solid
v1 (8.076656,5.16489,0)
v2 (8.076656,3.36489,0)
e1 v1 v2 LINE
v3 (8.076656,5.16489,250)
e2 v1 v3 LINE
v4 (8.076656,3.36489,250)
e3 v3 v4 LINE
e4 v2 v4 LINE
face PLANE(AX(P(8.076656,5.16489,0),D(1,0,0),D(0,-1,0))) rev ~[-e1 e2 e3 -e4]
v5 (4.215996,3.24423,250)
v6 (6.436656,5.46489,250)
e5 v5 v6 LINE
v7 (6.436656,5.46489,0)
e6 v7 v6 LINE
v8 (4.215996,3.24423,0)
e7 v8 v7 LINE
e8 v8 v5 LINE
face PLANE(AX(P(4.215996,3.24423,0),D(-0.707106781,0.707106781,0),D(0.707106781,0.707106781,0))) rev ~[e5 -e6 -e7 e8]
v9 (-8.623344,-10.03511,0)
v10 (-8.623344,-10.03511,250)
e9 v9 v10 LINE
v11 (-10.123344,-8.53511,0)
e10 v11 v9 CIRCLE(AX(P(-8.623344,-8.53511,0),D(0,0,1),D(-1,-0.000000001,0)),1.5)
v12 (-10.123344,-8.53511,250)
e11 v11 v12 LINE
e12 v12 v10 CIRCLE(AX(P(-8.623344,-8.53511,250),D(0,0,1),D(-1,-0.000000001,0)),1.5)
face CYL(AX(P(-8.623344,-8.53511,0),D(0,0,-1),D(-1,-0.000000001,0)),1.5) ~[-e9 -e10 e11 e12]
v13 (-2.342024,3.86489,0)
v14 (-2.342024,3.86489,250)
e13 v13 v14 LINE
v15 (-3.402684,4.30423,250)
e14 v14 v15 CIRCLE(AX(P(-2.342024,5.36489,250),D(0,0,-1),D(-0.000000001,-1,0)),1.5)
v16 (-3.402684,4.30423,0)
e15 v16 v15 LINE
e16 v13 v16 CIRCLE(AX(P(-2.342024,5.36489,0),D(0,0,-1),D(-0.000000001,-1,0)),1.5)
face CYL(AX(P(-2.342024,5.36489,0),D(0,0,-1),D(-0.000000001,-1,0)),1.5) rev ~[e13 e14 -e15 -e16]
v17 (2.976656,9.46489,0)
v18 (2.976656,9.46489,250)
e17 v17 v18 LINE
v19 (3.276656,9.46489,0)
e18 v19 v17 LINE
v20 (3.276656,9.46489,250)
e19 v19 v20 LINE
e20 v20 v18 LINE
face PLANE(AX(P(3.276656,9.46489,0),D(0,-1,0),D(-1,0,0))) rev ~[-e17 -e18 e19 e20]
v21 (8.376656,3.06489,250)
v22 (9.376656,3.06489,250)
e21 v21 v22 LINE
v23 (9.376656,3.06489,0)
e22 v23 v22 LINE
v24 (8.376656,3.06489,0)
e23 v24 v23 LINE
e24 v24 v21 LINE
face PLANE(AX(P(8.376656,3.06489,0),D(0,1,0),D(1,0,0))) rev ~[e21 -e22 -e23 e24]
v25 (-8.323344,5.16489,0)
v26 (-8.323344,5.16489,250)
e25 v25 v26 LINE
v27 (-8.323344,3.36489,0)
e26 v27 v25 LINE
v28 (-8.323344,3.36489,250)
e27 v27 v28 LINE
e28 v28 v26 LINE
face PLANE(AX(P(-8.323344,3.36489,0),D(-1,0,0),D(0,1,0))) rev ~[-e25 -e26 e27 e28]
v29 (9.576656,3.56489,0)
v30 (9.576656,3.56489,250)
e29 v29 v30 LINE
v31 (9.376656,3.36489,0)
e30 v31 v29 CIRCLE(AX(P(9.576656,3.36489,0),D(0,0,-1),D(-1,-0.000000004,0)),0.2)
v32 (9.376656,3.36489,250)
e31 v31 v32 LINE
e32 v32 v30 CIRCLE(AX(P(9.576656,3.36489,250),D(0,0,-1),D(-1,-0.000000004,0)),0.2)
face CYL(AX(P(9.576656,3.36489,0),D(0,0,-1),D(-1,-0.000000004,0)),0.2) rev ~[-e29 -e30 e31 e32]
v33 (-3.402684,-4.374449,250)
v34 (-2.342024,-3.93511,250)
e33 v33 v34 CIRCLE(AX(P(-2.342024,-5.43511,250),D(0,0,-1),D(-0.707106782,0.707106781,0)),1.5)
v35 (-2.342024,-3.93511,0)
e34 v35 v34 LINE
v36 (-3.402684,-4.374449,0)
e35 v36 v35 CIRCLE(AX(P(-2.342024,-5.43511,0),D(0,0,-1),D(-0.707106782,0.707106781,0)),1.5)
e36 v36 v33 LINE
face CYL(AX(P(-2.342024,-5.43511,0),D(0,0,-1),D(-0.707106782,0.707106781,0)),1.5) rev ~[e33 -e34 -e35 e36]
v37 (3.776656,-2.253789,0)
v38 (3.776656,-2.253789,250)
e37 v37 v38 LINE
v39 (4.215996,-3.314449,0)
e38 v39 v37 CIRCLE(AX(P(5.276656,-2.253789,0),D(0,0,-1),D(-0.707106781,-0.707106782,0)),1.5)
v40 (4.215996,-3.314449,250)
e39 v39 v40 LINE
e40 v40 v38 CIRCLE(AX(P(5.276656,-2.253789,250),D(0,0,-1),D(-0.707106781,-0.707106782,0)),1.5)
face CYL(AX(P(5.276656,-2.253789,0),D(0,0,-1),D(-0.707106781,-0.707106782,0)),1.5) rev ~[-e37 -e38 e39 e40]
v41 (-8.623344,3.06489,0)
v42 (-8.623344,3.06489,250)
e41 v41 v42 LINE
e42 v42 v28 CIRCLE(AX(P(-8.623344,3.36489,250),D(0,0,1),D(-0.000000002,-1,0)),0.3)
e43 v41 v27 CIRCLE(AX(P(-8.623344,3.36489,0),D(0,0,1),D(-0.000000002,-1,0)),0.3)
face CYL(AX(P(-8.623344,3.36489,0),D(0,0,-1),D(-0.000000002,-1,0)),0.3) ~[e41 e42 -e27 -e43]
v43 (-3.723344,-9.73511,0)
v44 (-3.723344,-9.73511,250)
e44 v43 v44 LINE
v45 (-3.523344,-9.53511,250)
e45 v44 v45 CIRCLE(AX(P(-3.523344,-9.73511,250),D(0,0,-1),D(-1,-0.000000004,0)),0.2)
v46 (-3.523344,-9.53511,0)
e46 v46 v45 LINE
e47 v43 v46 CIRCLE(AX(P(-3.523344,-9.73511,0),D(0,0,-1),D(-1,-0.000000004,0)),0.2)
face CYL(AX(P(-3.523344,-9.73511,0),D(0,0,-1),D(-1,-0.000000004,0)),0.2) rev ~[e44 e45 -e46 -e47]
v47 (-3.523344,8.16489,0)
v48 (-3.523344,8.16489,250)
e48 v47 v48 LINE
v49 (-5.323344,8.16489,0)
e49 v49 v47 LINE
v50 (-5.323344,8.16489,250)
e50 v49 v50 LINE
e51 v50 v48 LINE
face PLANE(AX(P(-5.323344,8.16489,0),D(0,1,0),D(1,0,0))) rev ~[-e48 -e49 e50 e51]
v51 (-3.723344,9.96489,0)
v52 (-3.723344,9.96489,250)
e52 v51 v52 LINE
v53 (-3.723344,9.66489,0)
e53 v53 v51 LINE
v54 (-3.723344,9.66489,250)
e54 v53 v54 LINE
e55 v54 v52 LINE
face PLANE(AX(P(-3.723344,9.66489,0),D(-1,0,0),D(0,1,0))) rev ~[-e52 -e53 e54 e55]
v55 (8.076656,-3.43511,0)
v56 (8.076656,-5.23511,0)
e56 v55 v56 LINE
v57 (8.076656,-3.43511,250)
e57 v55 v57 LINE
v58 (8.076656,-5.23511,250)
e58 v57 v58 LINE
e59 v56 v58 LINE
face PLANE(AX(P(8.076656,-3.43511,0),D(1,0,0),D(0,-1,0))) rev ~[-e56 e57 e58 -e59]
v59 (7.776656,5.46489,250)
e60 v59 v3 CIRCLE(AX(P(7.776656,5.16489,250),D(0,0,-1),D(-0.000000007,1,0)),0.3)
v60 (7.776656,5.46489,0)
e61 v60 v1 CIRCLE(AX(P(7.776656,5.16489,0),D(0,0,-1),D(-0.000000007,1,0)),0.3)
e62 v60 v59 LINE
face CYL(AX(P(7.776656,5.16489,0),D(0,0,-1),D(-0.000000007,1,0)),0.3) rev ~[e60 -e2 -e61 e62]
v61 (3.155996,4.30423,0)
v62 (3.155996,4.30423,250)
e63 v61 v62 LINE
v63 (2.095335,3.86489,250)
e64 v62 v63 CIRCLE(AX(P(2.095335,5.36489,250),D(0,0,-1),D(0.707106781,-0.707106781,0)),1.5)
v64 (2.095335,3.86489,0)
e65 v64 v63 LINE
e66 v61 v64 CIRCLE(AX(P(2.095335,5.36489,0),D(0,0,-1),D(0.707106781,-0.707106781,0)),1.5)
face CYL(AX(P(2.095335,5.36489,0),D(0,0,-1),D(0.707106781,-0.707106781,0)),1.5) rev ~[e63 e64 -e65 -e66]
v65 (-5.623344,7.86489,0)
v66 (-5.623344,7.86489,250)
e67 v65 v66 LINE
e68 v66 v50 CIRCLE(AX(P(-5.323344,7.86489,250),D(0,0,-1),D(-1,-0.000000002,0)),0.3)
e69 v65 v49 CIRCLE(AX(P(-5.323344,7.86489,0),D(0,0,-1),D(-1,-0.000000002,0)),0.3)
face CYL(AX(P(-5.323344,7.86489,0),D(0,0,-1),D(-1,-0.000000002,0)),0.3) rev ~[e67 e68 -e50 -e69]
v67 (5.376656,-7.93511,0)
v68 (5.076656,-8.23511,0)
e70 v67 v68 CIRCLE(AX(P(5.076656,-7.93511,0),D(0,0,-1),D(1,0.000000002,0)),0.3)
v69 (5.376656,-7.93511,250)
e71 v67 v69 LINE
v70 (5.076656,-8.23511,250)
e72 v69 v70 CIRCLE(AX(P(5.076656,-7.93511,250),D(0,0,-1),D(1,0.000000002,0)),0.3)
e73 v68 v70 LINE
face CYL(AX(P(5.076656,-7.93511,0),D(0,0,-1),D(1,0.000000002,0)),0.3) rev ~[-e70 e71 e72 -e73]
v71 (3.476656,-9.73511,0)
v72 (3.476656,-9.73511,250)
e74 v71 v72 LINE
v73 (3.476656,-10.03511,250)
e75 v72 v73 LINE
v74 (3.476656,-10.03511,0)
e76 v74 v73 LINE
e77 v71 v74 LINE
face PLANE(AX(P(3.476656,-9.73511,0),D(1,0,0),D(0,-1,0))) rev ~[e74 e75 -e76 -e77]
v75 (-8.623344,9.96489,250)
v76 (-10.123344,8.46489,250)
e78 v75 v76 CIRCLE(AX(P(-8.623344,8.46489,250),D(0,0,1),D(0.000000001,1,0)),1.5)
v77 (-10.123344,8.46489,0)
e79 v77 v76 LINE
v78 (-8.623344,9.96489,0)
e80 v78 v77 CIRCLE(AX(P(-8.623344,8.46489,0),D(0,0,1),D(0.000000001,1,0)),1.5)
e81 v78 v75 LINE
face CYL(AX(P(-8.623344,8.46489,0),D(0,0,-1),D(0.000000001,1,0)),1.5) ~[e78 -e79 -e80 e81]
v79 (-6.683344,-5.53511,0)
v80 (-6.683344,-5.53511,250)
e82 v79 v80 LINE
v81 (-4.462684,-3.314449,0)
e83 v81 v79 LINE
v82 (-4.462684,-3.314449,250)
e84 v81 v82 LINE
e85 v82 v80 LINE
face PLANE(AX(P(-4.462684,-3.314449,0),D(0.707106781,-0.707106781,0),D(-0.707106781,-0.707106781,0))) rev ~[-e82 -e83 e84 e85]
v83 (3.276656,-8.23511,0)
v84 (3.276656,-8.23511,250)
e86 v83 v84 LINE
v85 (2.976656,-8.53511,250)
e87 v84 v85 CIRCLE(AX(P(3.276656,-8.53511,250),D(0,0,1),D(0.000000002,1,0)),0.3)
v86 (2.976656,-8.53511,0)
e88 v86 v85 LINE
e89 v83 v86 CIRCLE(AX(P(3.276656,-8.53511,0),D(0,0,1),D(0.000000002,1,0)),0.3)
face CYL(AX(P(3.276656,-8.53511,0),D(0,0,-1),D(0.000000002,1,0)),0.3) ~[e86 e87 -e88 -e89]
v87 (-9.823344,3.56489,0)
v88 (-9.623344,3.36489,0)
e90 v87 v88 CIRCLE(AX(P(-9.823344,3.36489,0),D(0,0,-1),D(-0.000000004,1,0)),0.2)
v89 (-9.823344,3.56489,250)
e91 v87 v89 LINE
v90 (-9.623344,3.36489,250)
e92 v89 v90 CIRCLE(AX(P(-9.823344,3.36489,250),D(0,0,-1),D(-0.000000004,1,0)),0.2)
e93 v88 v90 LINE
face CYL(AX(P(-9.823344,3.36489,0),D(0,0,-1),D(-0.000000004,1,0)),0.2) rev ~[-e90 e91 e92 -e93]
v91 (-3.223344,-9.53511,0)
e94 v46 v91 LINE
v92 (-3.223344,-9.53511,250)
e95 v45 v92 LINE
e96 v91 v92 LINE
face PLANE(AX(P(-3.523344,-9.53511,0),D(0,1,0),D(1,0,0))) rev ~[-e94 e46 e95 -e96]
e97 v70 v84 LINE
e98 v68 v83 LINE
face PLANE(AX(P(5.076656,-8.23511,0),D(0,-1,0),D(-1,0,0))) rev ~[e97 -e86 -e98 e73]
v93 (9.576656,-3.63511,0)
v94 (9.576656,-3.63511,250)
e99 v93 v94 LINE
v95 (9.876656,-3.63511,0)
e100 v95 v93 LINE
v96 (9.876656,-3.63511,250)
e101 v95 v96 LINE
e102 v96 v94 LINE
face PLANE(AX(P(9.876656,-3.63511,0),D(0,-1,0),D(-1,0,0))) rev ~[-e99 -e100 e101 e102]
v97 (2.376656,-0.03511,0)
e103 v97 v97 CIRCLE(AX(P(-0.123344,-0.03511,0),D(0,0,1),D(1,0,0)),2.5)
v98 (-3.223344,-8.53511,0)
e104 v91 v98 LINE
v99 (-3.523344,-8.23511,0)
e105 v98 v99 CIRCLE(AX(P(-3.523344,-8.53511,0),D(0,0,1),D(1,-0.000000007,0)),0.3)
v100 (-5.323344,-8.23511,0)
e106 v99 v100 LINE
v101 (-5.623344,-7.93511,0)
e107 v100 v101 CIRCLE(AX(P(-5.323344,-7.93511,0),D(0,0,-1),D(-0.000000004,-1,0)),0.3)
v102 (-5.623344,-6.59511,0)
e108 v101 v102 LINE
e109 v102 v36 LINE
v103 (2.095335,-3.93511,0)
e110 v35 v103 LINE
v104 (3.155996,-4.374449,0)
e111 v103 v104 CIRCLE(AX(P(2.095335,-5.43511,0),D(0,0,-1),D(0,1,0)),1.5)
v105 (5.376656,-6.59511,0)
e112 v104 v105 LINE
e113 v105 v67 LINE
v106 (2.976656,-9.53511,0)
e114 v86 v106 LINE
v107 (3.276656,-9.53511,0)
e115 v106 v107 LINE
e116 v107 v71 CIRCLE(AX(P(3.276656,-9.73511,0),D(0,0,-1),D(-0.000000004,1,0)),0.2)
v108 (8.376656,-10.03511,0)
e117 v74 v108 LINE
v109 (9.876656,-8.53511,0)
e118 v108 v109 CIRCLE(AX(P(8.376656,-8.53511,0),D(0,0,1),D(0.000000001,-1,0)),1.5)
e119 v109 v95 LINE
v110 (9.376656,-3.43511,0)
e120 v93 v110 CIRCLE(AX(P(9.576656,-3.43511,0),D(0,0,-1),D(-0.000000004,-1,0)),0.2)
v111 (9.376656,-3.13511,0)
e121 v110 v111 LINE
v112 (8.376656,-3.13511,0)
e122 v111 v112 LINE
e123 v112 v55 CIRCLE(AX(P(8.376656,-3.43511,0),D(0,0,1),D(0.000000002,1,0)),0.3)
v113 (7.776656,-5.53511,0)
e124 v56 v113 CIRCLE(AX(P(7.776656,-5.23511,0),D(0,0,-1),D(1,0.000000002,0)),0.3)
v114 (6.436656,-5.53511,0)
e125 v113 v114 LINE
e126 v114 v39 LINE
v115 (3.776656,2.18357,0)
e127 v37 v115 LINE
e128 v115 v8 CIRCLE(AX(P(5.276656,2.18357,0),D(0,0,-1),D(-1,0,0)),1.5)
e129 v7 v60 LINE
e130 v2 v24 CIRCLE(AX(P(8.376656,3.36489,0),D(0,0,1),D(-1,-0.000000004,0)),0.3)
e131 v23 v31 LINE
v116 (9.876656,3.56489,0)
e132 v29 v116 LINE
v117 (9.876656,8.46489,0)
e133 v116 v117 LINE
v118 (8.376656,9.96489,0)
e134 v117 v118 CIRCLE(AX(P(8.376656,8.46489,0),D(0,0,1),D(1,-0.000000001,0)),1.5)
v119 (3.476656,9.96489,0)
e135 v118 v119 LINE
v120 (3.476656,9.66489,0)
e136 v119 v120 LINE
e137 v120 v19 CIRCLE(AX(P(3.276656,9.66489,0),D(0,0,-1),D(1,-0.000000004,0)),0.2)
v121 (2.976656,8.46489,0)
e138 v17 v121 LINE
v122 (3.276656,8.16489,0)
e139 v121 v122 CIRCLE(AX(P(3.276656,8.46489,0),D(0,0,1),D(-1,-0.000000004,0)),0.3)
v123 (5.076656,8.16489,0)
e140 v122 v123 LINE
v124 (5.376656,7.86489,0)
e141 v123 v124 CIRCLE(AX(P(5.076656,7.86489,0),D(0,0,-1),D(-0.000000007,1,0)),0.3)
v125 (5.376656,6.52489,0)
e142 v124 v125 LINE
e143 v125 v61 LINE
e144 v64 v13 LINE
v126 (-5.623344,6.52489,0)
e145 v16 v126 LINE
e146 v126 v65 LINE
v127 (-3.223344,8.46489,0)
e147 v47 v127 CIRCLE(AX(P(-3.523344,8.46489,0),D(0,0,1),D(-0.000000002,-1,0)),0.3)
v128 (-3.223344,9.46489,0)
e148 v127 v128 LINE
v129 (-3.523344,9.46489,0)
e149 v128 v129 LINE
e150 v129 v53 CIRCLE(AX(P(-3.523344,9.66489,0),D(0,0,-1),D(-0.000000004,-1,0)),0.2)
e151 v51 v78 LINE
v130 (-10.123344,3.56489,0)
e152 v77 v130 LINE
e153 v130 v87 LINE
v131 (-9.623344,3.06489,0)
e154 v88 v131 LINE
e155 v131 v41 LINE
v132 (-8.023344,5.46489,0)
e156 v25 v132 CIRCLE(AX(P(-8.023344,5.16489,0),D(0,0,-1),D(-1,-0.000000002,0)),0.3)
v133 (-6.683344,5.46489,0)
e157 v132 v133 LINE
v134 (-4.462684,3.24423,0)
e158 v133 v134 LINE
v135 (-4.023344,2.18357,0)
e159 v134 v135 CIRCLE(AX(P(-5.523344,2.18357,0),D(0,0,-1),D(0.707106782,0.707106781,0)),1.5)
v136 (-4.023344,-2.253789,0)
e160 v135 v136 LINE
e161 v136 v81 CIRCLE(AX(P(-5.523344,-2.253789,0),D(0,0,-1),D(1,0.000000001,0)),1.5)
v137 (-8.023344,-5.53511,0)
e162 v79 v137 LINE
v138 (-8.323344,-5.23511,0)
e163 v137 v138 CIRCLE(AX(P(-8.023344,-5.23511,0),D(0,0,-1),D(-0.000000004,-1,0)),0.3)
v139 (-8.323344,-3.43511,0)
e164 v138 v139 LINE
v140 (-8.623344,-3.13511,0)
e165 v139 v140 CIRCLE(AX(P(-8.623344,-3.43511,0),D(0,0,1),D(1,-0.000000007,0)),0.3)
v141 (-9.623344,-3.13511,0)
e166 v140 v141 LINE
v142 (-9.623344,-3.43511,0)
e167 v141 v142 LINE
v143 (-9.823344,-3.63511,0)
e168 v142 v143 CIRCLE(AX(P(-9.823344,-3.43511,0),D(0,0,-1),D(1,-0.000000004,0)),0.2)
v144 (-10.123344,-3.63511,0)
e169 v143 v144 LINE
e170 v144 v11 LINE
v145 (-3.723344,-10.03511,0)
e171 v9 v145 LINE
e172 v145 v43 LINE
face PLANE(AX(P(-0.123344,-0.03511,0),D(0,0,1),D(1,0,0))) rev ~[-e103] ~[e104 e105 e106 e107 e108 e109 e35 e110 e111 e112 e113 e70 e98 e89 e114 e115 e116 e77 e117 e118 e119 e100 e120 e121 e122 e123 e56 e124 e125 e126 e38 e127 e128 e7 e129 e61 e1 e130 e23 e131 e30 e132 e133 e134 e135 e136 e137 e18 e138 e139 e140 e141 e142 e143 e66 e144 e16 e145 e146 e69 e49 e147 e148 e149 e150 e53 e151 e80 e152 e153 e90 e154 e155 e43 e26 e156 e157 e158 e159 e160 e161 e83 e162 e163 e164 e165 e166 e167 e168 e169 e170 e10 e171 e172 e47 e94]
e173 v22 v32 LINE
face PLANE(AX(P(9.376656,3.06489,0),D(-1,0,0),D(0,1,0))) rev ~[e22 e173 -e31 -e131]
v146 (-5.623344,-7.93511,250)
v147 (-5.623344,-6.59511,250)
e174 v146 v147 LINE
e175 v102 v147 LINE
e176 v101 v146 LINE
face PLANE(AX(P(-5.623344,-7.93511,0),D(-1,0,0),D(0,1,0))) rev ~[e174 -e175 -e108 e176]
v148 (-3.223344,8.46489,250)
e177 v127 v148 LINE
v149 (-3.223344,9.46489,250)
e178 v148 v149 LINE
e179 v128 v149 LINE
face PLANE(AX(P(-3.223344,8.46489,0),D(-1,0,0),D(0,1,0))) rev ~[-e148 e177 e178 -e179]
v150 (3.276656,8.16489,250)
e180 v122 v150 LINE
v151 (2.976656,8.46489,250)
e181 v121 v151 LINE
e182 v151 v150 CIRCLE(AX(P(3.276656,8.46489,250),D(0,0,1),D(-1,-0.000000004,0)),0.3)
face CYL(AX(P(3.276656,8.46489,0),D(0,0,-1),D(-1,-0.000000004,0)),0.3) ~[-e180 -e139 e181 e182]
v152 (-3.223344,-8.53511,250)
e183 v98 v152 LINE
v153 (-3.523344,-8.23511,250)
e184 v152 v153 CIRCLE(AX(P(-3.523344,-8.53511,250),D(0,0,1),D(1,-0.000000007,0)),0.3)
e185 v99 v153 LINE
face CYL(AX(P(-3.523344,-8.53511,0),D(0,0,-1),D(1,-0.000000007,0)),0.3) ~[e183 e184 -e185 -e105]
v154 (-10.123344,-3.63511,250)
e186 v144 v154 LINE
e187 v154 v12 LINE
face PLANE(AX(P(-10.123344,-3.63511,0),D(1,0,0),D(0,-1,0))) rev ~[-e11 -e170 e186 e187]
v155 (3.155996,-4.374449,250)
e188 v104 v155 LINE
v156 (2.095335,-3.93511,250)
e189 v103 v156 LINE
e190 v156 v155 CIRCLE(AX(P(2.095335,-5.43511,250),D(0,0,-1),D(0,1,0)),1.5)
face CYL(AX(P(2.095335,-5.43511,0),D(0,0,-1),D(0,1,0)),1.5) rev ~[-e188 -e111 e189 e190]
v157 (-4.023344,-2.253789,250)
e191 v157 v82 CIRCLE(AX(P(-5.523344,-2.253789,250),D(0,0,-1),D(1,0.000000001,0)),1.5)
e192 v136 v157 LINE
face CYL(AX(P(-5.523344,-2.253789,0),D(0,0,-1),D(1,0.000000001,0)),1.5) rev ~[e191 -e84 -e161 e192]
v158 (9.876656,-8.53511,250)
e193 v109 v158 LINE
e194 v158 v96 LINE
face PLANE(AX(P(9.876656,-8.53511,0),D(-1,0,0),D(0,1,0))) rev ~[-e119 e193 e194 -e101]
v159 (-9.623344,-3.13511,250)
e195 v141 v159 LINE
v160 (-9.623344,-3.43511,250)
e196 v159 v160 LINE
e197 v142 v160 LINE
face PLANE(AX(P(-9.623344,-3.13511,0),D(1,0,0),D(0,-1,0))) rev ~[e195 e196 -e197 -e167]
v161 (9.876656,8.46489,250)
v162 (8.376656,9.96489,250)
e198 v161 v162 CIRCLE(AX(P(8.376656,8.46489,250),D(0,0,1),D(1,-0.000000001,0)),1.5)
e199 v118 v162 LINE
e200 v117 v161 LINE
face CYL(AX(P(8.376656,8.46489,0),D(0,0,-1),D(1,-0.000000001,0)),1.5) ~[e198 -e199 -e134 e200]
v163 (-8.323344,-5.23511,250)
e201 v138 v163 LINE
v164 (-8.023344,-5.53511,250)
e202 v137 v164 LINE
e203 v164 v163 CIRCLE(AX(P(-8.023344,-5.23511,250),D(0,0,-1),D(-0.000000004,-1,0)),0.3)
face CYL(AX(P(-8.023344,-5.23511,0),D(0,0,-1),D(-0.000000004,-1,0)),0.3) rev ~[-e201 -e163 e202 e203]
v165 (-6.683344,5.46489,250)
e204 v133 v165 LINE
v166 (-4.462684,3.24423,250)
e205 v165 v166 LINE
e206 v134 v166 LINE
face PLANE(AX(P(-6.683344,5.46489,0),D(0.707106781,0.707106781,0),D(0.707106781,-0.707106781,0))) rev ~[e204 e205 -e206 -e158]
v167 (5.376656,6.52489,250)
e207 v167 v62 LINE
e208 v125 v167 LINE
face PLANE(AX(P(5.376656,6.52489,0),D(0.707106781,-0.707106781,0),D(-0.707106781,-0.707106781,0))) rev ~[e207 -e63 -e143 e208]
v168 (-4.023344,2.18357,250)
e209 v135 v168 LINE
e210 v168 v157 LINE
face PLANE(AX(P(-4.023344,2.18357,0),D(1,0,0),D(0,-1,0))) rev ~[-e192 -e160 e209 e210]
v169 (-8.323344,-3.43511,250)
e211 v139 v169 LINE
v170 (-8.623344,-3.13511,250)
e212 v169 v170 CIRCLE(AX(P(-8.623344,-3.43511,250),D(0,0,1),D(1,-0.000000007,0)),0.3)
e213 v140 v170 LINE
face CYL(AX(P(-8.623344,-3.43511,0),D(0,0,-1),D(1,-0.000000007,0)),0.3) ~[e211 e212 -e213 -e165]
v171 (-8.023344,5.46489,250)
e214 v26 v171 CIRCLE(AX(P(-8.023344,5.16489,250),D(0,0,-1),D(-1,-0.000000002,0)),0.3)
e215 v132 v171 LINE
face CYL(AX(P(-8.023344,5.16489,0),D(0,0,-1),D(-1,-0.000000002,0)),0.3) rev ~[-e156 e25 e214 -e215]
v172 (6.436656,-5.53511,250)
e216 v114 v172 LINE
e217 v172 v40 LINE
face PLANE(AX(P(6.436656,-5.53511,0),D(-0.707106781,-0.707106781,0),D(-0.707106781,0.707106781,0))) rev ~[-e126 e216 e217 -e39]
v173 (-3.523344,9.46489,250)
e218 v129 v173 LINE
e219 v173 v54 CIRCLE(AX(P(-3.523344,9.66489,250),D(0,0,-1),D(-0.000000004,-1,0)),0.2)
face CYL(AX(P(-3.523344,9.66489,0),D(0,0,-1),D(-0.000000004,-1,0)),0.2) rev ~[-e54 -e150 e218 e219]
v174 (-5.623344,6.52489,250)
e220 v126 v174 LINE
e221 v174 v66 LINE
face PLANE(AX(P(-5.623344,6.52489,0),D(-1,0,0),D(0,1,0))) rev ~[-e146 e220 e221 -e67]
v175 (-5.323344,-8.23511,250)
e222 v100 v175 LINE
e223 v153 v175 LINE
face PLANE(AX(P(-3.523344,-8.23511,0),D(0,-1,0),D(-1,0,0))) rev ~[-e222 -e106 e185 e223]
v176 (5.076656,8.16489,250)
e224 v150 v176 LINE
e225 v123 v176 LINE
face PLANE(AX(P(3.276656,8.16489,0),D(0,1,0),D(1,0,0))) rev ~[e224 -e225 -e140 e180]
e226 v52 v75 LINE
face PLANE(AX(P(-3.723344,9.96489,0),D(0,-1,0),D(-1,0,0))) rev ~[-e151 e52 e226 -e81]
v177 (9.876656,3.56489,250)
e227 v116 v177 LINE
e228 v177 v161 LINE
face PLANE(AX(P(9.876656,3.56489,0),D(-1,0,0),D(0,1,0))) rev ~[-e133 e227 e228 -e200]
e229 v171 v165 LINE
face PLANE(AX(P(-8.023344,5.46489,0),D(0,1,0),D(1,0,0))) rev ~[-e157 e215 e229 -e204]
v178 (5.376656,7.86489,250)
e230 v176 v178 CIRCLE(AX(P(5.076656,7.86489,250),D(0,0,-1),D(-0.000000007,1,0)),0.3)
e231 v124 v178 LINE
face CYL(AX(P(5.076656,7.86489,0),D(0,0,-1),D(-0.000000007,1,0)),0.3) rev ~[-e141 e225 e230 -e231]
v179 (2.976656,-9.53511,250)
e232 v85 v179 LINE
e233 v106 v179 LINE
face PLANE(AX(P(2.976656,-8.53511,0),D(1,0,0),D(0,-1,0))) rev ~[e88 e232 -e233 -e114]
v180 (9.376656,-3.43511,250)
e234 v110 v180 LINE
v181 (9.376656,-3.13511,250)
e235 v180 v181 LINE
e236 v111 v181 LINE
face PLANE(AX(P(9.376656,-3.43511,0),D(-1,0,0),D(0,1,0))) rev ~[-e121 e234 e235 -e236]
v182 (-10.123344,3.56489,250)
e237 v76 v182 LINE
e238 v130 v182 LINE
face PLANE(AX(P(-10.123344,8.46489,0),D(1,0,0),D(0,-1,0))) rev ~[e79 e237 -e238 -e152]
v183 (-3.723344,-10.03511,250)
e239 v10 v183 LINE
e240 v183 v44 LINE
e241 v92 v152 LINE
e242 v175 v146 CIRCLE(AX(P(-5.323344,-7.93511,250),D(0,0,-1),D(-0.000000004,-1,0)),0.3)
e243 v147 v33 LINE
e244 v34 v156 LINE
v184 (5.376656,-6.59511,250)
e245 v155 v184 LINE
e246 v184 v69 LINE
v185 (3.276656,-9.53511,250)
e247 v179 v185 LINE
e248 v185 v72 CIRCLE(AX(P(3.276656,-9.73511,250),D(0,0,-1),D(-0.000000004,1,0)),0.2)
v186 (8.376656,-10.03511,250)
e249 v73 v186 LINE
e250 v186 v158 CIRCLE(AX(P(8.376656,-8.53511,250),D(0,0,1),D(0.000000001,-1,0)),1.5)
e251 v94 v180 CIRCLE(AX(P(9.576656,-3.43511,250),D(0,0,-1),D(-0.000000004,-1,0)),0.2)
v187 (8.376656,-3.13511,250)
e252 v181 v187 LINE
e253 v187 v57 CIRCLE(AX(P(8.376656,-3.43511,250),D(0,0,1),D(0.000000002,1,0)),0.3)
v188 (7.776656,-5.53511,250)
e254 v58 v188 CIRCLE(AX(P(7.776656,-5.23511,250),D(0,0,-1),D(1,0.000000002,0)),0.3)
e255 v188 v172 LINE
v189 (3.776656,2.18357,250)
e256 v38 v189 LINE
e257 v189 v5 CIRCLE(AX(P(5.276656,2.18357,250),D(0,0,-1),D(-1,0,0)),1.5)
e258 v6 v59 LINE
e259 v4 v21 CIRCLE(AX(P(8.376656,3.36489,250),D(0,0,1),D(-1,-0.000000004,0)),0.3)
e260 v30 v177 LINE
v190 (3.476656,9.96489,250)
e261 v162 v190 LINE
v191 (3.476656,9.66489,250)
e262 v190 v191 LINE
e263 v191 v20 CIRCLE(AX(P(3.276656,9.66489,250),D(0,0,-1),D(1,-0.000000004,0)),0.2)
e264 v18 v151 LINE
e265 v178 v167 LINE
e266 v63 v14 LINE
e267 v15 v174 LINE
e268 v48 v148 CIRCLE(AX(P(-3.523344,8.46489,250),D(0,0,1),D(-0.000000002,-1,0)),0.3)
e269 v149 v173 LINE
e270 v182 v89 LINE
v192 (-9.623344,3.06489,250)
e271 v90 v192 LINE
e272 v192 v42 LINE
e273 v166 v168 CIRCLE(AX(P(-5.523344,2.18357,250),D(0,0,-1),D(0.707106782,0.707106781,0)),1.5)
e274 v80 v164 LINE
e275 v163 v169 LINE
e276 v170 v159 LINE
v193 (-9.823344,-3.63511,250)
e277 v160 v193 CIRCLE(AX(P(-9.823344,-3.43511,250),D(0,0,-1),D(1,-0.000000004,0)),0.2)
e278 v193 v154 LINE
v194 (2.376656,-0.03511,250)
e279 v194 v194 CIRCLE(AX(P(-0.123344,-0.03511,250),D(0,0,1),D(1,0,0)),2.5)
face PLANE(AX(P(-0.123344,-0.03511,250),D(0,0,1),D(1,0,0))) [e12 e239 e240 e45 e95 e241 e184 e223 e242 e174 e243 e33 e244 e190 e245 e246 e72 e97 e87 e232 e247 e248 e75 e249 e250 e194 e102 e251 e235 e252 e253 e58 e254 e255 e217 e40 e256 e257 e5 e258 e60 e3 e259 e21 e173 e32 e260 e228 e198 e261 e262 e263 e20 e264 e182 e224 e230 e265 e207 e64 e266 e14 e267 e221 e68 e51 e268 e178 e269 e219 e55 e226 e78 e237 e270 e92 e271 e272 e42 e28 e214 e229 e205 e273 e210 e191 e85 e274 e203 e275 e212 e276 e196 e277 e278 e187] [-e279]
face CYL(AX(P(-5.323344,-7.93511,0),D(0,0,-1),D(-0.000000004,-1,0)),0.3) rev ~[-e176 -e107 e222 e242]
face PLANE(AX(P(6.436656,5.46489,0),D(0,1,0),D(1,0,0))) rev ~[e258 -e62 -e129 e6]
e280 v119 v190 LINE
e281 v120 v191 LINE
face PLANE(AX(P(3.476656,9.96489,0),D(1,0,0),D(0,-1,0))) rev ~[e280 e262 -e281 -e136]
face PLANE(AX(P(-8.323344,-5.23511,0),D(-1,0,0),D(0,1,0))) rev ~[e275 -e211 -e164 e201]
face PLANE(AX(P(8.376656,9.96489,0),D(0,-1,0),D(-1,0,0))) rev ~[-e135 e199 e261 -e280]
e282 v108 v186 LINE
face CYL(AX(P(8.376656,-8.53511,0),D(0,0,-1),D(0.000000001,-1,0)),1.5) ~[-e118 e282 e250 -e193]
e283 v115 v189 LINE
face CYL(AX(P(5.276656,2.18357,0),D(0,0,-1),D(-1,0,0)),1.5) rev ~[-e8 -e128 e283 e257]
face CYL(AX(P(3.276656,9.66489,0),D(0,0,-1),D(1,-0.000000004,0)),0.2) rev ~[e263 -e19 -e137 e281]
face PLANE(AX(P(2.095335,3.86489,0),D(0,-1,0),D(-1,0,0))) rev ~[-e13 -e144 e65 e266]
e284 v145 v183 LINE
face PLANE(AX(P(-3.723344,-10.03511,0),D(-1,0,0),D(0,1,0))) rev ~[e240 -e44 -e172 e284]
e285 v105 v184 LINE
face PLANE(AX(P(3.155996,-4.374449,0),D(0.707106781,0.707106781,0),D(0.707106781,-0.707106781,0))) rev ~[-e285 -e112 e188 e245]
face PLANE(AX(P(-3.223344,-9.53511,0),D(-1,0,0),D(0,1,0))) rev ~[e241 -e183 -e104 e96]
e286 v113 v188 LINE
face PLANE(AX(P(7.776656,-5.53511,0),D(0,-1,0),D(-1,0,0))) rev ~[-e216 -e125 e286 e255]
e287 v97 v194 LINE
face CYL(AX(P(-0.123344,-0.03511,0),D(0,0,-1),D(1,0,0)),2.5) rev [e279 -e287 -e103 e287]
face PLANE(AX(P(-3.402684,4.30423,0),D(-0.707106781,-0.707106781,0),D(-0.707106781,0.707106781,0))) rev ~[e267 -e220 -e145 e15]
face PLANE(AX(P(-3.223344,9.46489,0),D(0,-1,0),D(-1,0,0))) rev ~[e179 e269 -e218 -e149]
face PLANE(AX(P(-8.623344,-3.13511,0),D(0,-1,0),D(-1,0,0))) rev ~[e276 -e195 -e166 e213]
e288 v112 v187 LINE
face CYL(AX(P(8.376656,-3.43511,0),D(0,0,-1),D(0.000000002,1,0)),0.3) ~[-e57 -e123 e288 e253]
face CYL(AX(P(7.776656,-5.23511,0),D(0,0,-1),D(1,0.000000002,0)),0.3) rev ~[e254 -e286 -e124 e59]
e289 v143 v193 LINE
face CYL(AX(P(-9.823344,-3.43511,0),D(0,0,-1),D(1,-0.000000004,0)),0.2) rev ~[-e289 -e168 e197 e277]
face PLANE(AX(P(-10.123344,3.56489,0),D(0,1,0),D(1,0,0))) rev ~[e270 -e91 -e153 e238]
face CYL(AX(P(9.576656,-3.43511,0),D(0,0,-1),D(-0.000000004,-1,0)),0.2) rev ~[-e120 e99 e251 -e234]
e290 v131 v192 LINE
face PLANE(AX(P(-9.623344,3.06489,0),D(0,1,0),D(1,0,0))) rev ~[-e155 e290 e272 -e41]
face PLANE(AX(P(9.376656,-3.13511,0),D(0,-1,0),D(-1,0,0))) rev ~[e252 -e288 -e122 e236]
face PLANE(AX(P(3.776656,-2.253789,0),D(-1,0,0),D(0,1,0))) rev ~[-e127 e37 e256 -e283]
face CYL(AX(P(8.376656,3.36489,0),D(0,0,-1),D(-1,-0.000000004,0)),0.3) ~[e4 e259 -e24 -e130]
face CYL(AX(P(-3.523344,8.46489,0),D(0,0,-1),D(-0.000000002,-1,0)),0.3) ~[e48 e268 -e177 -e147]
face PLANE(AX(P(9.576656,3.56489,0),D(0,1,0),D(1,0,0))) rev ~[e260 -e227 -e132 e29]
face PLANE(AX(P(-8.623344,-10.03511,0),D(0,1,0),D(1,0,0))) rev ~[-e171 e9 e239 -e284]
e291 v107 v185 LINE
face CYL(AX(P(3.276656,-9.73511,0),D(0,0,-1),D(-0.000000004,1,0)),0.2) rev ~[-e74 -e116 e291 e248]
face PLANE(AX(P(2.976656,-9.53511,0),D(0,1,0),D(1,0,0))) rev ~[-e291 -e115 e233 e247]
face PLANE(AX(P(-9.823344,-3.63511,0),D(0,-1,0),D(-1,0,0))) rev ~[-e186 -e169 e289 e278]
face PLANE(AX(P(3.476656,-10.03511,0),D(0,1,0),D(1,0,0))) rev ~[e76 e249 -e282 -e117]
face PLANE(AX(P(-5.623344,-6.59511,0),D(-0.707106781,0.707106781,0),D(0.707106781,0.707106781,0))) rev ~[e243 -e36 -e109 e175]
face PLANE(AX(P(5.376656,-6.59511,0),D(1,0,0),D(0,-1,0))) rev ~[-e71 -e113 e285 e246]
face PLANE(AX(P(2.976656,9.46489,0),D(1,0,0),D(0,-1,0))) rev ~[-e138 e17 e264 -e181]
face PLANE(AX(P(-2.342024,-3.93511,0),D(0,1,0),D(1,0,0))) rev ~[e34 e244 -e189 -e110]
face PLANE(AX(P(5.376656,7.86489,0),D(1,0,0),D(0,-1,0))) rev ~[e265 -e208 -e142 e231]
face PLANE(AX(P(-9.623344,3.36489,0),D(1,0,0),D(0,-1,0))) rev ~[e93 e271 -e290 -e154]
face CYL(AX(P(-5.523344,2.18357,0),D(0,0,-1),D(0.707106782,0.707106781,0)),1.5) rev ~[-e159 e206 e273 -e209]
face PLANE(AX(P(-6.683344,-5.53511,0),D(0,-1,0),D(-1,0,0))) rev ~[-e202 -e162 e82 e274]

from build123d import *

# Parameters (mm, degrees)
SKETCH_1_R      = 2.5
EXTRUDE_1_DEPTH = 250


with BuildPart() as part:
    # 草图1 → 凸台-拉伸1 (new body)
    with BuildSketch(Plane.XY):
        with BuildLine():
            Line((4.215995631, 3.244230202), (6.436655803, 5.464890373))
            Line((6.436655803, 5.464890373), (7.776655803, 5.464890373))
            ThreePointArc((7.776655803, 5.464890373), (7.988787838, 5.377022408), (8.076655803, 5.164890373))
            Line((8.076655803, 5.164890373), (8.076655803, 3.364890373))
            ThreePointArc((8.076655803, 3.364890373), (8.164523769, 3.152758339), (8.376655803, 3.064890373))
            Line((8.376655803, 3.064890373), (9.376655803, 3.064890373))
            Line((9.376655803, 3.064890373), (9.376655803, 3.364890373))
            ThreePointArc((9.376655803, 3.364890373), (9.435234447, 3.50631173), (9.576655803, 3.564890373))
            Line((9.576655803, 3.564890373), (9.876655803, 3.564890373))
            Line((9.876655803, 3.564890373), (9.876655803, 8.464890373))
            ThreePointArc((9.876655803, 8.464890373), (9.437315975, 9.525550545), (8.376655803, 9.964890373))
            Line((8.376655803, 9.964890373), (3.476655803, 9.964890373))
            Line((3.476655803, 9.964890373), (3.476655803, 9.664890373))
            ThreePointArc((3.476655803, 9.664890373), (3.418077159, 9.523469017), (3.276655803, 9.464890373))
            Line((3.276655803, 9.464890373), (2.976655803, 9.464890373))
            Line((2.976655803, 9.464890373), (2.976655803, 8.464890373))
            ThreePointArc((2.976655803, 8.464890373), (3.064523769, 8.252758339), (3.276655803, 8.164890373))
            Line((3.276655803, 8.164890373), (5.076655803, 8.164890373))
            ThreePointArc((5.076655803, 8.164890373), (5.288787838, 8.077022408), (5.376655803, 7.864890373))
            Line((5.376655803, 7.864890373), (5.376655803, 6.524890373))
            Line((5.376655803, 6.524890373), (3.155995631, 4.304230202))
            ThreePointArc((3.155995631, 4.304230202), (2.669360608, 3.979071075), (2.09533546, 3.864890373))
            Line((2.09533546, 3.864890373), (-2.342023853, 3.864890373))
            ThreePointArc((-2.342023853, 3.864890373), (-2.916049002, 3.979071075), (-3.402684025, 4.304230202))
            Line((-3.402684025, 4.304230202), (-5.623344197, 6.524890373))
            Line((-5.623344197, 6.524890373), (-5.623344197, 7.864890373))
            ThreePointArc((-5.623344197, 7.864890373), (-5.535476231, 8.077022408), (-5.323344197, 8.164890373))
            Line((-5.323344197, 8.164890373), (-3.523344197, 8.164890373))
            ThreePointArc((-3.523344197, 8.164890373), (-3.311212162, 8.252758339), (-3.223344197, 8.464890373))
            Line((-3.223344197, 8.464890373), (-3.223344197, 9.464890373))
            Line((-3.223344197, 9.464890373), (-3.523344197, 9.464890373))
            ThreePointArc((-3.523344197, 9.464890373), (-3.664765553, 9.523469017), (-3.723344197, 9.664890373))
            Line((-3.723344197, 9.664890373), (-3.723344197, 9.964890373))
            Line((-3.723344197, 9.964890373), (-8.623344197, 9.964890373))
            ThreePointArc((-8.623344197, 9.964890373), (-9.684004369, 9.525550545), (-10.123344197, 8.464890373))
            Line((-10.123344197, 8.464890373), (-10.123344197, 3.564890373))
            Line((-10.123344197, 3.564890373), (-9.823344197, 3.564890373))
            ThreePointArc((-9.823344197, 3.564890373), (-9.681922841, 3.50631173), (-9.623344197, 3.364890373))
            Line((-9.623344197, 3.364890373), (-9.623344197, 3.064890373))
            Line((-9.623344197, 3.064890373), (-8.623344197, 3.064890373))
            ThreePointArc((-8.623344197, 3.064890373), (-8.411212162, 3.152758339), (-8.323344197, 3.364890373))
            Line((-8.323344197, 3.364890373), (-8.323344197, 5.164890373))
            ThreePointArc((-8.323344197, 5.164890373), (-8.235476231, 5.377022408), (-8.023344197, 5.464890373))
            Line((-8.023344197, 5.464890373), (-6.683344197, 5.464890373))
            Line((-6.683344197, 5.464890373), (-4.462684025, 3.244230202))
            ThreePointArc((-4.462684025, 3.244230202), (-4.137524898, 2.757595178), (-4.023344197, 2.18357003))
            Line((-4.023344197, 2.18357003), (-4.023344197, -2.253789283))
            ThreePointArc((-4.023344197, -2.253789283), (-4.137524898, -2.827814432), (-4.462684025, -3.314449455))
            Line((-4.462684025, -3.314449455), (-6.683344197, -5.535109627))
            Line((-6.683344197, -5.535109627), (-8.023344197, -5.535109627))
            ThreePointArc((-8.023344197, -5.535109627), (-8.235476231, -5.447241661), (-8.323344197, -5.235109627))
            Line((-8.323344197, -5.235109627), (-8.323344197, -3.435109627))
            ThreePointArc((-8.323344197, -3.435109627), (-8.411212162, -3.222977592), (-8.623344197, -3.135109627))
            Line((-8.623344197, -3.135109627), (-9.623344197, -3.135109627))
            Line((-9.623344197, -3.135109627), (-9.623344197, -3.435109627))
            ThreePointArc((-9.623344197, -3.435109627), (-9.681922841, -3.576530983), (-9.823344197, -3.635109627))
            Line((-9.823344197, -3.635109627), (-10.123344197, -3.635109627))
            Line((-10.123344197, -3.635109627), (-10.123344197, -8.535109627))
            ThreePointArc((-10.123344197, -8.535109627), (-9.684004369, -9.595769798), (-8.623344197, -10.035109627))
            Line((-8.623344197, -10.035109627), (-3.723344197, -10.035109627))
            Line((-3.723344197, -10.035109627), (-3.723344197, -9.735109627))
            ThreePointArc((-3.723344197, -9.735109627), (-3.664765553, -9.59368827), (-3.523344197, -9.535109627))
            Line((-3.523344197, -9.535109627), (-3.223344197, -9.535109627))
            Line((-3.223344197, -9.535109627), (-3.223344197, -8.535109627))
            ThreePointArc((-3.223344197, -8.535109627), (-3.311212162, -8.322977592), (-3.523344197, -8.235109627))
            Line((-3.523344197, -8.235109627), (-5.323344197, -8.235109627))
            ThreePointArc((-5.323344197, -8.235109627), (-5.535476231, -8.147241661), (-5.623344197, -7.935109627))
            Line((-5.623344197, -7.935109627), (-5.623344197, -6.595109627))
            Line((-5.623344197, -6.595109627), (-3.402684025, -4.374449455))
            ThreePointArc((-3.402684025, -4.374449455), (-2.916049002, -4.049290328), (-2.342023853, -3.935109627))
            Line((-2.342023853, -3.935109627), (2.09533546, -3.935109627))
            ThreePointArc((2.09533546, -3.935109627), (2.669360608, -4.049290328), (3.155995631, -4.374449455))
            Line((3.155995631, -4.374449455), (5.376655803, -6.595109627))
            Line((5.376655803, -6.595109627), (5.376655803, -7.935109627))
            ThreePointArc((5.376655803, -7.935109627), (5.288787838, -8.147241661), (5.076655803, -8.235109627))
            Line((5.076655803, -8.235109627), (3.276655803, -8.235109627))
            ThreePointArc((3.276655803, -8.235109627), (3.064523769, -8.322977592), (2.976655803, -8.535109627))
            Line((2.976655803, -8.535109627), (2.976655803, -9.535109627))
            Line((2.976655803, -9.535109627), (3.276655803, -9.535109627))
            ThreePointArc((3.276655803, -9.535109627), (3.418077159, -9.59368827), (3.476655803, -9.735109627))
            Line((3.476655803, -9.735109627), (3.476655803, -10.035109627))
            Line((3.476655803, -10.035109627), (8.376655803, -10.035109627))
            ThreePointArc((8.376655803, -10.035109627), (9.437315975, -9.595769798), (9.876655803, -8.535109627))
            Line((9.876655803, -8.535109627), (9.876655803, -3.635109627))
            Line((9.876655803, -3.635109627), (9.576655803, -3.635109627))
            ThreePointArc((9.576655803, -3.635109627), (9.435234447, -3.576530983), (9.376655803, -3.435109627))
            Line((9.376655803, -3.435109627), (9.376655803, -3.135109627))
            Line((9.376655803, -3.135109627), (8.376655803, -3.135109627))
            ThreePointArc((8.376655803, -3.135109627), (8.164523769, -3.222977592), (8.076655803, -3.435109627))
            Line((8.076655803, -3.435109627), (8.076655803, -5.235109627))
            ThreePointArc((8.076655803, -5.235109627), (7.988787838, -5.447241661), (7.776655803, -5.535109627))
            Line((7.776655803, -5.535109627), (6.436655803, -5.535109627))
            Line((6.436655803, -5.535109627), (4.215995631, -3.314449455))
            ThreePointArc((4.215995631, -3.314449455), (3.890836504, -2.827814432), (3.776655803, -2.253789283))
            Line((3.776655803, -2.253789283), (3.776655803, 2.18357003))
            ThreePointArc((3.776655803, 2.18357003), (3.890836504, 2.757595178), (4.215995631, 3.244230202))
        make_face()
        with Locations((-0.123344197, -0.035109627)):
            Circle(SKETCH_1_R, mode=Mode.SUBTRACT)
    extrude(amount=EXTRUDE_1_DEPTH)


solid = part.part
